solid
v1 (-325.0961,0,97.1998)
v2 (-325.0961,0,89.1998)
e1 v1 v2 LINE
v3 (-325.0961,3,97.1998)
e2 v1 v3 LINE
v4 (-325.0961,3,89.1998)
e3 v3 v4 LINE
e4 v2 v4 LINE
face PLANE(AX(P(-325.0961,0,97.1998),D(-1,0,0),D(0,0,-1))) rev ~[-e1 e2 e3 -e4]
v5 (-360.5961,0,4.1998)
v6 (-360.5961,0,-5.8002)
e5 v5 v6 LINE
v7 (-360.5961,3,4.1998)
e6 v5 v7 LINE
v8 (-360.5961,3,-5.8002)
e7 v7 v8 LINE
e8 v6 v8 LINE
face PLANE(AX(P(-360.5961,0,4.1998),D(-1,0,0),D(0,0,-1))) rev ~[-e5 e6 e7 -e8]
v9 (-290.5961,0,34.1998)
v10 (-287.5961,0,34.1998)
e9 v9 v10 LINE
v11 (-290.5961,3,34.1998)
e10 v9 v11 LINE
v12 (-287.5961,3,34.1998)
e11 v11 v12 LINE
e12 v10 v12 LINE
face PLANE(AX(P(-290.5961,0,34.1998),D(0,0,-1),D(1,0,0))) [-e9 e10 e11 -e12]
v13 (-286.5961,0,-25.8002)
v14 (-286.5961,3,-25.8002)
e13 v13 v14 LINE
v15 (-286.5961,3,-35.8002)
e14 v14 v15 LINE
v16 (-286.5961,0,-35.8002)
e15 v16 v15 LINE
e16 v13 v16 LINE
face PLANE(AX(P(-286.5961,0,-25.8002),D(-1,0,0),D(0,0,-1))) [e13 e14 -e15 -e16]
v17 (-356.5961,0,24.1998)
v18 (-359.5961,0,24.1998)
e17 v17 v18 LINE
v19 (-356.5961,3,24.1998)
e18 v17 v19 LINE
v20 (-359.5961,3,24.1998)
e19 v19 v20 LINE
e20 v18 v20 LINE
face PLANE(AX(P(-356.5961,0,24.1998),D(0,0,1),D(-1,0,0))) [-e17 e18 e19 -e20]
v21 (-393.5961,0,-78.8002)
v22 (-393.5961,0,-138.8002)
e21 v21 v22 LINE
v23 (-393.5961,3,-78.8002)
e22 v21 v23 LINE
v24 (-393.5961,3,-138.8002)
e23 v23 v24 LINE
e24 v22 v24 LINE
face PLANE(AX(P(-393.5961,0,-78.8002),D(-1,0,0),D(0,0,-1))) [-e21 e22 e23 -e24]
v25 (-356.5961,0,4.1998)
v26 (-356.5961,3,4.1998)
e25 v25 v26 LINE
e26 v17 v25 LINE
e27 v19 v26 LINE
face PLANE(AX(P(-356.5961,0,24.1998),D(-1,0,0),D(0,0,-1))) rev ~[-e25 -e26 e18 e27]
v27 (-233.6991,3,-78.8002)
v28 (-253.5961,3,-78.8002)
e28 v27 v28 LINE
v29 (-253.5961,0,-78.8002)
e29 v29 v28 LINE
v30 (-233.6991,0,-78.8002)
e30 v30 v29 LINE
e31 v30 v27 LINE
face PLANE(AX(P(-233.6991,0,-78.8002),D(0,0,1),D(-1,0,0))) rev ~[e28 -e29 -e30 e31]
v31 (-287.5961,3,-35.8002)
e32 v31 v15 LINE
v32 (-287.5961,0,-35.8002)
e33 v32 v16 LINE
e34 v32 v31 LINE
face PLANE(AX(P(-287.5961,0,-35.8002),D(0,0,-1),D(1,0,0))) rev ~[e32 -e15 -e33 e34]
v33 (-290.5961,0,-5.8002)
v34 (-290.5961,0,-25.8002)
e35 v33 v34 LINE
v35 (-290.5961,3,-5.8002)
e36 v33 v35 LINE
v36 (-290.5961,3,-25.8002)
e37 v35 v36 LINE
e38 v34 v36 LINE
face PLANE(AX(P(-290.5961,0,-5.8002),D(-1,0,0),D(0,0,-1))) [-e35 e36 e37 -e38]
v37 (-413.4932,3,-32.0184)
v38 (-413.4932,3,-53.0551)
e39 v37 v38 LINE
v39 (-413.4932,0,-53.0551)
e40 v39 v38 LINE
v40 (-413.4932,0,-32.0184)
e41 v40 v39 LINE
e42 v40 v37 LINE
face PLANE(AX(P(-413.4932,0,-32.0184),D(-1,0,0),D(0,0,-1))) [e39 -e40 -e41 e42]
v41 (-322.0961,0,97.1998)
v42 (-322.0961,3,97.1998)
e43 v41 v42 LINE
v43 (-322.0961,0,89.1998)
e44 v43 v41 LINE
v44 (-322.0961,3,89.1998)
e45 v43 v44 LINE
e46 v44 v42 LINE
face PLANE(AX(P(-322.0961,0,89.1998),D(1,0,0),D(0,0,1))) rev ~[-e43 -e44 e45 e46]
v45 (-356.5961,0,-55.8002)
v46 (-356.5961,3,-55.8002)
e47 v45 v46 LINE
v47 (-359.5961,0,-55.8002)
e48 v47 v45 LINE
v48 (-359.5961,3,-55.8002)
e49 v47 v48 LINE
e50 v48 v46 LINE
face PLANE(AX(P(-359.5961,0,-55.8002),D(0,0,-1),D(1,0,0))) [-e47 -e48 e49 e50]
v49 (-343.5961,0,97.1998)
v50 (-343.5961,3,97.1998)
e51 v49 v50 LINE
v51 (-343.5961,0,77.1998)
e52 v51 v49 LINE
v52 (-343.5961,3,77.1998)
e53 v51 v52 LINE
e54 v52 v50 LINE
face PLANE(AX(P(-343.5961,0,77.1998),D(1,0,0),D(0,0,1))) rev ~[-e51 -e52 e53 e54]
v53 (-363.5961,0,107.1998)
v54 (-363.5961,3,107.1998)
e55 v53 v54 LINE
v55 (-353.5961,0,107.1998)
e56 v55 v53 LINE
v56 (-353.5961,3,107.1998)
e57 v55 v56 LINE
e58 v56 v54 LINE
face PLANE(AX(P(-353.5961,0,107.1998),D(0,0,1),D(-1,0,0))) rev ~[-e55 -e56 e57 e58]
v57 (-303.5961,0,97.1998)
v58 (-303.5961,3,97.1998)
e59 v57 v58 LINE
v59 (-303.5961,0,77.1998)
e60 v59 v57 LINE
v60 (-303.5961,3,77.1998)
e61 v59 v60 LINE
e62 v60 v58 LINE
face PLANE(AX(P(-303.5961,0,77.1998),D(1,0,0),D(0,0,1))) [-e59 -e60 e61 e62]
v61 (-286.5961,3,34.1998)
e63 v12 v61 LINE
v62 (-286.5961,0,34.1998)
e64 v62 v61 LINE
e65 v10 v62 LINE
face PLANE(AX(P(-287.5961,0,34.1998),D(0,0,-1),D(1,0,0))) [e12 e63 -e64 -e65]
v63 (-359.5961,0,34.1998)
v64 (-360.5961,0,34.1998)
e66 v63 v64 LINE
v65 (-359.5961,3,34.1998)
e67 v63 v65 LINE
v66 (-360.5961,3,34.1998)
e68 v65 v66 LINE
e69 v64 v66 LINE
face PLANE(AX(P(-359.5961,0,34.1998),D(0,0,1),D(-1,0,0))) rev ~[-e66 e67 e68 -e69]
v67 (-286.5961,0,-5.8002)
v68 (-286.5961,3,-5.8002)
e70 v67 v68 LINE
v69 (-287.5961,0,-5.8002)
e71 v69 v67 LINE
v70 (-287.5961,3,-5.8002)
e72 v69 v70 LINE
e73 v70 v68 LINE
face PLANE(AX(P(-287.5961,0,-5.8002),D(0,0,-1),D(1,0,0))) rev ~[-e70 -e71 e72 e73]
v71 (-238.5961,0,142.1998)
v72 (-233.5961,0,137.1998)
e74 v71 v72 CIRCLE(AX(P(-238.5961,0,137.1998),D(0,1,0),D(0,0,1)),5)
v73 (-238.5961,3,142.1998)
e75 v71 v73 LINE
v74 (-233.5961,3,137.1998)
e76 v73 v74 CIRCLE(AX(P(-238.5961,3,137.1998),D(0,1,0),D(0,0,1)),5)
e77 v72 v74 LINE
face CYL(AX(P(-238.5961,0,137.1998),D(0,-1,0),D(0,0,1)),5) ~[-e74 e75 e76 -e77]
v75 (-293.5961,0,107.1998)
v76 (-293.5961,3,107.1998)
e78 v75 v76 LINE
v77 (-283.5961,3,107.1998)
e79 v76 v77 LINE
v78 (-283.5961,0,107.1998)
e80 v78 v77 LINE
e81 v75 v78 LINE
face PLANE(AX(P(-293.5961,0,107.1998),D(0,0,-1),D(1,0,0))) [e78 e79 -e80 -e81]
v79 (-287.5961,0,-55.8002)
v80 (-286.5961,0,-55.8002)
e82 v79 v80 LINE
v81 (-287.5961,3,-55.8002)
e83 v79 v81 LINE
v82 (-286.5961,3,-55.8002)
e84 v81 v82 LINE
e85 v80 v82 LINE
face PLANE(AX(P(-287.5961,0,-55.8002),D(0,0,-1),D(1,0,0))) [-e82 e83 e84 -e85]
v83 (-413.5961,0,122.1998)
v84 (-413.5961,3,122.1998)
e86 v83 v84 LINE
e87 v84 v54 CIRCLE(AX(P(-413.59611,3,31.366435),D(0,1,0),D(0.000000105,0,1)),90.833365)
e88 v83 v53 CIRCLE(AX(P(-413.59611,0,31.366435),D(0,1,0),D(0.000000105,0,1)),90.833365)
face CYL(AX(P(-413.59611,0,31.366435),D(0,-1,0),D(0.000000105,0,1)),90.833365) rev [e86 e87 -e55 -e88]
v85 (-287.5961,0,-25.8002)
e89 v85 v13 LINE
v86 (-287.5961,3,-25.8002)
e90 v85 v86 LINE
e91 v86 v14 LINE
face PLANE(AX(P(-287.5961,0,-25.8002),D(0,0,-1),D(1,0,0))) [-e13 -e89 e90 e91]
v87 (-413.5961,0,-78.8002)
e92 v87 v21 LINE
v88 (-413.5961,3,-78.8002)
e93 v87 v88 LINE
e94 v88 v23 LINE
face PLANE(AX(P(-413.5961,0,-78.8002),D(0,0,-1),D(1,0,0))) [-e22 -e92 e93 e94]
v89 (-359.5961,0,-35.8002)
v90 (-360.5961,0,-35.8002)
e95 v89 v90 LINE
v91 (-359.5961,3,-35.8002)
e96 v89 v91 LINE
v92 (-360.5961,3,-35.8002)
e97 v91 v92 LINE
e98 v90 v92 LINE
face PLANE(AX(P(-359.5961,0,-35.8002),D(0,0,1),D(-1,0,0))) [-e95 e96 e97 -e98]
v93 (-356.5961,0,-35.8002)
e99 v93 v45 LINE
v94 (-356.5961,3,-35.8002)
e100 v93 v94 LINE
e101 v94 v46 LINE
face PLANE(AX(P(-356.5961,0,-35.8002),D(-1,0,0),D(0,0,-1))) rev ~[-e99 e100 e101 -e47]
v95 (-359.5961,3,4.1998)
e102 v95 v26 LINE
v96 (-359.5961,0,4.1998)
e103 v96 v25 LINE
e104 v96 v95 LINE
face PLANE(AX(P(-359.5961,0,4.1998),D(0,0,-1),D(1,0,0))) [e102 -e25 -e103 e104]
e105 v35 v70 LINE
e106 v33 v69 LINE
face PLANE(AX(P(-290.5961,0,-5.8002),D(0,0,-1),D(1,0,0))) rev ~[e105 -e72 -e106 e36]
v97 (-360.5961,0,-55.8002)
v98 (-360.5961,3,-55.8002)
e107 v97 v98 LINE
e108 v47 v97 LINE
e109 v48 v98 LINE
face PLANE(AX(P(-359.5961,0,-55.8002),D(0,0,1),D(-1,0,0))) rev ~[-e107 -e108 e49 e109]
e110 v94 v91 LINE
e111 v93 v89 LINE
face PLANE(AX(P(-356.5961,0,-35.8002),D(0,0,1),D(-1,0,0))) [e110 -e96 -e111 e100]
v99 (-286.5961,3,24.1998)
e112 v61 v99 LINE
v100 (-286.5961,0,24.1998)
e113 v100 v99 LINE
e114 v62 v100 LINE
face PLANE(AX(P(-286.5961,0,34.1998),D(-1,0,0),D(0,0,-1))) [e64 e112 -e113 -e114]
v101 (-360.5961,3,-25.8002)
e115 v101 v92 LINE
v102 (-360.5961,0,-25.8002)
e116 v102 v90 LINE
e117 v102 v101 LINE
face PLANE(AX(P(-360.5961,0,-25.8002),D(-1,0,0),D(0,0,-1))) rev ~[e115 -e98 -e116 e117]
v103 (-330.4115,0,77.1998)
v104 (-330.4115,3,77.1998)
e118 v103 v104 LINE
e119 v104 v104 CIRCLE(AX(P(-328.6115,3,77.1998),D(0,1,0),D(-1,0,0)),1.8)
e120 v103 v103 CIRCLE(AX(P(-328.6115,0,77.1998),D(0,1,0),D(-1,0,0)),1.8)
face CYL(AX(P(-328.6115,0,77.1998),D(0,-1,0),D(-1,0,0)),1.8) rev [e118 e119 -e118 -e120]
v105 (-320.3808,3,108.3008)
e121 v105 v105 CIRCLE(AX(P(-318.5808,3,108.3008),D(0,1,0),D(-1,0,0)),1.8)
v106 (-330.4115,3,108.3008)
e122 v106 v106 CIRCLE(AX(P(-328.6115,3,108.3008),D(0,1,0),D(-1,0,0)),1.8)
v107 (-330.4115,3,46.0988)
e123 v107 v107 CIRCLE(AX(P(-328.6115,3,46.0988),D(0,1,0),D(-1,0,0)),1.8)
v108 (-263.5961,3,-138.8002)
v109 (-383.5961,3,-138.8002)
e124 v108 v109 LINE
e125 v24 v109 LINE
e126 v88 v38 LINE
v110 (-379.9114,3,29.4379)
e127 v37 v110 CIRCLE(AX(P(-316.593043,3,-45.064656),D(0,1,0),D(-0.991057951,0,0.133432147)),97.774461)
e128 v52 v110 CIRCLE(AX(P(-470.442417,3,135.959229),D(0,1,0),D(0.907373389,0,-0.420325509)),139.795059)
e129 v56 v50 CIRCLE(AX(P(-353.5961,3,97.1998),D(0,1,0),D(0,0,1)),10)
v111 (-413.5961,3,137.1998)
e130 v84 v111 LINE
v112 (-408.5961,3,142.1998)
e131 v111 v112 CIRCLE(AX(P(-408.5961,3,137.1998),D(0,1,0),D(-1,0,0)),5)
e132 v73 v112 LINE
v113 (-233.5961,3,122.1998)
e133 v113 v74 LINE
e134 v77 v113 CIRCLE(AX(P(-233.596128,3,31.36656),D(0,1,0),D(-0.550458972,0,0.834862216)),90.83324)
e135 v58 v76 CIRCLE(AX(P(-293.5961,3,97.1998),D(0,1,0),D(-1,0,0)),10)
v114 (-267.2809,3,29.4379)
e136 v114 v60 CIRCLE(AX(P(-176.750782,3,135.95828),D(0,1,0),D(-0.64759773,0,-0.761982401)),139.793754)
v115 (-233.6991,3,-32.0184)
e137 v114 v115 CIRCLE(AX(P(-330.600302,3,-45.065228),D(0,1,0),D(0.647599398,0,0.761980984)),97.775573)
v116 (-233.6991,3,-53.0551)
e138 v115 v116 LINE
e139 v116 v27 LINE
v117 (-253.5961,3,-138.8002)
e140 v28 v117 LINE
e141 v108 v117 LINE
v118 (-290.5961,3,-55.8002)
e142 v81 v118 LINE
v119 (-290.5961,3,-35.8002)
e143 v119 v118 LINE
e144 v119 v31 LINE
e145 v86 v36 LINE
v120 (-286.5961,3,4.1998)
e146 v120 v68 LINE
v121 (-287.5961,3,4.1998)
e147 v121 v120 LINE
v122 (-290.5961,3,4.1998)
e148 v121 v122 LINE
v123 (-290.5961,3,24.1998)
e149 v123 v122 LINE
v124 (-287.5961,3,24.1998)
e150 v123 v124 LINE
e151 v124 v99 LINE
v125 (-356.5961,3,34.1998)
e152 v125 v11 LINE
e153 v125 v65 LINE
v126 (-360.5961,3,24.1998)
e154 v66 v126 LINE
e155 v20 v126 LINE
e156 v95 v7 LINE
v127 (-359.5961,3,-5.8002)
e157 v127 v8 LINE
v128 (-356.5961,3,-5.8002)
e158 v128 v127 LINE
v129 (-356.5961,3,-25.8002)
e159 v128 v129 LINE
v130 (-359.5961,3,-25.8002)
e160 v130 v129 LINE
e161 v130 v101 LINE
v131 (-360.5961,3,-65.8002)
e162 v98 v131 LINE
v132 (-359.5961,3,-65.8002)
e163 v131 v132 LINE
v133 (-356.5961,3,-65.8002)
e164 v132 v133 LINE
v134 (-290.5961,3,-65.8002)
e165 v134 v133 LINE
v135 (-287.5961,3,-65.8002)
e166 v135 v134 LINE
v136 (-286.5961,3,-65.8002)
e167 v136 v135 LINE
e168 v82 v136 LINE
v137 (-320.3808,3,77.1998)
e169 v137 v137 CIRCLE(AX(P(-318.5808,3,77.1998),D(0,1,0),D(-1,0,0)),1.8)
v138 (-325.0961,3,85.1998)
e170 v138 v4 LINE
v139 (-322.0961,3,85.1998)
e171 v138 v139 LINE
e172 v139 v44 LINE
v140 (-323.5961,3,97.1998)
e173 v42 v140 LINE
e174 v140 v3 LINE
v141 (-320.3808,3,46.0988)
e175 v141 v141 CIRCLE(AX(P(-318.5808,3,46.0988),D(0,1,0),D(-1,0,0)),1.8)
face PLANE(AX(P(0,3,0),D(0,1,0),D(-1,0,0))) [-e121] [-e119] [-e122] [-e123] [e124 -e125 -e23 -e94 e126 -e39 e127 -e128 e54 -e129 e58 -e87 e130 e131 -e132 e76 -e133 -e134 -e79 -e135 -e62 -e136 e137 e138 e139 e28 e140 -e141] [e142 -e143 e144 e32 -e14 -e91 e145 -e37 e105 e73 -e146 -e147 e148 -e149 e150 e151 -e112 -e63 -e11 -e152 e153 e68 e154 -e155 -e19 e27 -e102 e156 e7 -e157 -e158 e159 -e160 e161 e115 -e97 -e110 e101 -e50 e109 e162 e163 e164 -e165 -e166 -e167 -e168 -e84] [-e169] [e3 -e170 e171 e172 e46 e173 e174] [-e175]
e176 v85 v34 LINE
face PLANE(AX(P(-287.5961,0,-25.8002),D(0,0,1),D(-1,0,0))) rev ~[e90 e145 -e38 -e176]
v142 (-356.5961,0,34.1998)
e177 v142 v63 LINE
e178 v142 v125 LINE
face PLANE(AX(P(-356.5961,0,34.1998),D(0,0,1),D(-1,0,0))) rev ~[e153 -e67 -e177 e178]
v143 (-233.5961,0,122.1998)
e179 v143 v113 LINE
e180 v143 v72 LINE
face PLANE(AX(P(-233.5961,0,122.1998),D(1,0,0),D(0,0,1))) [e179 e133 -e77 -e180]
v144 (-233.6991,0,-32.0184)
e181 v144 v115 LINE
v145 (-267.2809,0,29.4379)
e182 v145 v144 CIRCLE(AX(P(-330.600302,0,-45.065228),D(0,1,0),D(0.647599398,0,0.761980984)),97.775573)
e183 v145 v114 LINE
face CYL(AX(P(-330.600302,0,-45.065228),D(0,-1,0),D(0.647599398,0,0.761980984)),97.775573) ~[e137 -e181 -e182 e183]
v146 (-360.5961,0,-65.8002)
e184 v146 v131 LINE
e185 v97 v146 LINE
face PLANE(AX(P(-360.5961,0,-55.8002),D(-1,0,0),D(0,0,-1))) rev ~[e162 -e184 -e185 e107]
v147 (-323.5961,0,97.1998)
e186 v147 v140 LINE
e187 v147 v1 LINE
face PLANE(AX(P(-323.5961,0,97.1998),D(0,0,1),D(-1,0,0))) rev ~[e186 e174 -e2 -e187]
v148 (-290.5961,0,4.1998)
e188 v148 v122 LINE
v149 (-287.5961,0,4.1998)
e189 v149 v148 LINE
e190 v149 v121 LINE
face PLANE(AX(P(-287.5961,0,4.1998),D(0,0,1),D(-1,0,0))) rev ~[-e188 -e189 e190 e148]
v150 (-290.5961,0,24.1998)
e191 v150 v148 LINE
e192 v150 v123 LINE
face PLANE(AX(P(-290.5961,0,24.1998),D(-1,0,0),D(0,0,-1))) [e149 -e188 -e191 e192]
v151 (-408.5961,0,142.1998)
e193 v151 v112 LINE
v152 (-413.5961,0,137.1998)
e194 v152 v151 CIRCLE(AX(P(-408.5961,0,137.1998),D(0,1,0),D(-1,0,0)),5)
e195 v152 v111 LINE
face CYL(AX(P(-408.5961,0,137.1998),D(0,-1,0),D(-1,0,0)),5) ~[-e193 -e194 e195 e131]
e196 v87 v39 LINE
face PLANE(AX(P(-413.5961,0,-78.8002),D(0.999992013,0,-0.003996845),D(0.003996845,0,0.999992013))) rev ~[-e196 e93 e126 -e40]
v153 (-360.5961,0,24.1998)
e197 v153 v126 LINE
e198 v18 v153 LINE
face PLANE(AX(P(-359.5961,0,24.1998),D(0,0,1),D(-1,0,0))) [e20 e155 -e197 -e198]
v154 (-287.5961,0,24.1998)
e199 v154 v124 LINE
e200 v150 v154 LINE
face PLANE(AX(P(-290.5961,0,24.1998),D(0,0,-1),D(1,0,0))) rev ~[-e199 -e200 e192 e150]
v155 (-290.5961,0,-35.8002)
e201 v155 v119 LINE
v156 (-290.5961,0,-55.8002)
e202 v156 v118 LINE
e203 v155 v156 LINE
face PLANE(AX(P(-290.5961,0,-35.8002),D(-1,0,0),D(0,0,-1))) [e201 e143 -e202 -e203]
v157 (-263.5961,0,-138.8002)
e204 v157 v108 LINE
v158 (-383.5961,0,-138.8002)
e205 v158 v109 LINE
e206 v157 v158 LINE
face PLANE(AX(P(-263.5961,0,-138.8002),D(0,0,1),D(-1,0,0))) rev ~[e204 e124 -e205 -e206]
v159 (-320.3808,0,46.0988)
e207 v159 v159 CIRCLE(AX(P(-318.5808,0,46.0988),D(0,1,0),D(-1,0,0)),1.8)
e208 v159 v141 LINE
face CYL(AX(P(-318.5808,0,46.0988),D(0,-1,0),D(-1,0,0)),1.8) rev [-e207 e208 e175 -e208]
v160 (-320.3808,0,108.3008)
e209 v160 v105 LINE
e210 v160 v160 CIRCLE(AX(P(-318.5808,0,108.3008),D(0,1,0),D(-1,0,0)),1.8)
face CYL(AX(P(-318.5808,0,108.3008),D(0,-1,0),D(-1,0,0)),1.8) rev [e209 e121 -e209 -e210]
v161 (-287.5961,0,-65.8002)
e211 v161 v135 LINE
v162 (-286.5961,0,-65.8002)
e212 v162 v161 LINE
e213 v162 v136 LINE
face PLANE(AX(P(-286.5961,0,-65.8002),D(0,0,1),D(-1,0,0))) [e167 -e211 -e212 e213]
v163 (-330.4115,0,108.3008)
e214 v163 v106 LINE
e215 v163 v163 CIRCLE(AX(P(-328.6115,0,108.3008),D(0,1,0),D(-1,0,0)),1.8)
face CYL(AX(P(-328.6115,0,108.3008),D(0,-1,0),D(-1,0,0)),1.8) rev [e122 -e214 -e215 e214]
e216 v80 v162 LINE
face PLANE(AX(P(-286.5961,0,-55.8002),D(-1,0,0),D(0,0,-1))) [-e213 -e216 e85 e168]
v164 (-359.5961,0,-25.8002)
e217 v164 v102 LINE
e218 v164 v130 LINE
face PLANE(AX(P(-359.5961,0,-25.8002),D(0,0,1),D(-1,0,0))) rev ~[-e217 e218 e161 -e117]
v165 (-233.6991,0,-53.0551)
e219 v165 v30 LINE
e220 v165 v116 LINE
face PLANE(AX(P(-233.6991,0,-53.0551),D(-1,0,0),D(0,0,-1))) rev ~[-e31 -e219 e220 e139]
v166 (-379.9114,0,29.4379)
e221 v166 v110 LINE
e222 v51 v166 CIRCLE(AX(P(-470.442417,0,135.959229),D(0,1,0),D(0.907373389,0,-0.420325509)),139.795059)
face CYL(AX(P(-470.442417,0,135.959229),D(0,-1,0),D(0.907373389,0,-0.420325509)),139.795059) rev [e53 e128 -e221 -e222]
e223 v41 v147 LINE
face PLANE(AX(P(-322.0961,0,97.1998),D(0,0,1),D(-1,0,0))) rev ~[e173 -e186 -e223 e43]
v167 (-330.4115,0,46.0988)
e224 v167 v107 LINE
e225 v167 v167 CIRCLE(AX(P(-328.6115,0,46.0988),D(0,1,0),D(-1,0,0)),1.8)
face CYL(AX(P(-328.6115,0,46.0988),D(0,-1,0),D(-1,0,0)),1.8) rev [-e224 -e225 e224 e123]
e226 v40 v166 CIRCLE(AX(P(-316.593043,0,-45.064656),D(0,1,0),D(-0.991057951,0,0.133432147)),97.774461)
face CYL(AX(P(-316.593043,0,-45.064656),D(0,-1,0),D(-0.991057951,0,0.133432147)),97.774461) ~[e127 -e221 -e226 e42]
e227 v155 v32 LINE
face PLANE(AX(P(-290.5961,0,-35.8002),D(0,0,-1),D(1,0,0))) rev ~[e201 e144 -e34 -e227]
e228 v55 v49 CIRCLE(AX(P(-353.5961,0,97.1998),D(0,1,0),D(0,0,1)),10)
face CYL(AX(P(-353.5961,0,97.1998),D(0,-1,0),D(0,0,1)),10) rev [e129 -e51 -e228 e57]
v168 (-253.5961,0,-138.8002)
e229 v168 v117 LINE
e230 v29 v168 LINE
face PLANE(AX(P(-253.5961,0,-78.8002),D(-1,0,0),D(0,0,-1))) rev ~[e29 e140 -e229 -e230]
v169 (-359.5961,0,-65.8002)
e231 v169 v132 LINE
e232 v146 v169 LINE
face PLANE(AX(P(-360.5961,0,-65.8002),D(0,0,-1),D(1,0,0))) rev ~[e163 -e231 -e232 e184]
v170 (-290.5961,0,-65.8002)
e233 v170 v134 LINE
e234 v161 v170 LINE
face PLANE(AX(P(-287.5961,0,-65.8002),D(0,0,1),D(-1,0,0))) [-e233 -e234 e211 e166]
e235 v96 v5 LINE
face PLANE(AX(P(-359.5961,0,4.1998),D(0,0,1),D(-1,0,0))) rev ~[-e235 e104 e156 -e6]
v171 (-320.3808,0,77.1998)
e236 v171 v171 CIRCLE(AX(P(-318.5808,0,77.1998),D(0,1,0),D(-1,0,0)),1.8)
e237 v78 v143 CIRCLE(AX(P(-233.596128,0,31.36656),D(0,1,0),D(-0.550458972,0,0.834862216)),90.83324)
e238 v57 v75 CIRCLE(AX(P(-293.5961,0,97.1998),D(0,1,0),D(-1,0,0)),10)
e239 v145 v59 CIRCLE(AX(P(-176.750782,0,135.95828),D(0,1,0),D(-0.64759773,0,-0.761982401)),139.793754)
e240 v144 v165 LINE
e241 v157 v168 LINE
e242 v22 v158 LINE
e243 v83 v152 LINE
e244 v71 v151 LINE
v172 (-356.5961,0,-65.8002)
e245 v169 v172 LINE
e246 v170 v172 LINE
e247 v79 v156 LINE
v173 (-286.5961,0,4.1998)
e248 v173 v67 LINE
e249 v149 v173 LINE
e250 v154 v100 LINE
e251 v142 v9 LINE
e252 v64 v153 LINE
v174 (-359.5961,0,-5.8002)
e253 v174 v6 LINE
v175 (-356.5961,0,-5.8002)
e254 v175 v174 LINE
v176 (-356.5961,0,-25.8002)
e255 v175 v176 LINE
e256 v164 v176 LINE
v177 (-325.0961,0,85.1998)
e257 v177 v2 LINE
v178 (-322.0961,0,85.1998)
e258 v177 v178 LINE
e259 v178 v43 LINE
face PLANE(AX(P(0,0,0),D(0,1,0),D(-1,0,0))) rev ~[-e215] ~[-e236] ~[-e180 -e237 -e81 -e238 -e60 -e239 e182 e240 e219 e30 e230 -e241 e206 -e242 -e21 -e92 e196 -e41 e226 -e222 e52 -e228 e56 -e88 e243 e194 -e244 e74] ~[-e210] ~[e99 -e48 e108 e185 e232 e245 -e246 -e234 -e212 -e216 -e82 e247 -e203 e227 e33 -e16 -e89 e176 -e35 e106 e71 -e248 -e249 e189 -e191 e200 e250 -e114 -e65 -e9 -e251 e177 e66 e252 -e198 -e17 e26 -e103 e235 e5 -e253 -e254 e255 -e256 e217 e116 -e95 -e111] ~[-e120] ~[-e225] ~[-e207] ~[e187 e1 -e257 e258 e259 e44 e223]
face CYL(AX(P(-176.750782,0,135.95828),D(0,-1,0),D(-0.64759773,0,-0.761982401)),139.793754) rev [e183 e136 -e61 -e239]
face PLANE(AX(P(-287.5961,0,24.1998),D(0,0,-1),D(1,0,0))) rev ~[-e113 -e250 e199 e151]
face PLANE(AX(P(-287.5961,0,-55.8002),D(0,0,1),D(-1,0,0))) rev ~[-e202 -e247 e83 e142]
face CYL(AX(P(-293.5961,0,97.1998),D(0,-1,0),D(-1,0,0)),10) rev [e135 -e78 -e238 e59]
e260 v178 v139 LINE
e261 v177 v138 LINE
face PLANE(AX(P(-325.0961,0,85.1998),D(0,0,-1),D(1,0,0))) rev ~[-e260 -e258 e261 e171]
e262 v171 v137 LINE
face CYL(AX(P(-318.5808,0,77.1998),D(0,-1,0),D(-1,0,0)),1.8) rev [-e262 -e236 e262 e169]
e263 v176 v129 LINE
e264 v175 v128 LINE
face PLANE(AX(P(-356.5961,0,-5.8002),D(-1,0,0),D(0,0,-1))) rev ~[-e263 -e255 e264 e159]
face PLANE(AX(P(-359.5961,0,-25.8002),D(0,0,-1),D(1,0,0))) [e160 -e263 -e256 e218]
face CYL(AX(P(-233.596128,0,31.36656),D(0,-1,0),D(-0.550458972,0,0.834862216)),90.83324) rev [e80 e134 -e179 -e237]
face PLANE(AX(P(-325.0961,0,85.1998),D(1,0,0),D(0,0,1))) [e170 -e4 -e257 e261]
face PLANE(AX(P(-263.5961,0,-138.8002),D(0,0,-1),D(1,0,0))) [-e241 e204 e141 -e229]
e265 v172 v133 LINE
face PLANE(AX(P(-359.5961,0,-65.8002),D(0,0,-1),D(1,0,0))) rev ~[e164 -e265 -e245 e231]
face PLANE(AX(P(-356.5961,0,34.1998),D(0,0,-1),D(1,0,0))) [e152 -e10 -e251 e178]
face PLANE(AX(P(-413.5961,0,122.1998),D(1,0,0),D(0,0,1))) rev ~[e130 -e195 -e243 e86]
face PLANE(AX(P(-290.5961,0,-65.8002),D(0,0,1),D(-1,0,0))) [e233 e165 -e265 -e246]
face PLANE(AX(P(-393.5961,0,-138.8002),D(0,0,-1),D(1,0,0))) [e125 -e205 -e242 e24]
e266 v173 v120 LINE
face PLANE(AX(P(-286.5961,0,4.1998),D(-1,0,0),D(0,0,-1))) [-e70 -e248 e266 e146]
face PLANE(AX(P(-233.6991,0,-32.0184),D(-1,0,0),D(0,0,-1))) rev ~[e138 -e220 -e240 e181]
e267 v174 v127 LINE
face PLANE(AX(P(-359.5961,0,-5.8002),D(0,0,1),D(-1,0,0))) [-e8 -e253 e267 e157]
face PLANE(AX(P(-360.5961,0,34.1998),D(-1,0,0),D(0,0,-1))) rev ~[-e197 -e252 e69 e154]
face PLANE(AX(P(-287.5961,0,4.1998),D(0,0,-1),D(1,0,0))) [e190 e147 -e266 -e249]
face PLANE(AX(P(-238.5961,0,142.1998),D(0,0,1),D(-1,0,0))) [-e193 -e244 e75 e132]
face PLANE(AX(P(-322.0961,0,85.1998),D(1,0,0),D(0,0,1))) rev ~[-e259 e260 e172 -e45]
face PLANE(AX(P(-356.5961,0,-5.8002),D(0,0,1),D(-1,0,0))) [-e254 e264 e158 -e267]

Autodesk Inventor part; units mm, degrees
ref_plane "YZ Plane" through (0, 0, 0) normal (1, 0, 0) x (0, 1, 0)
ref_plane "XZ Plane" through (0, 0, 0) normal (0, 1, 0) x (-1, 0, 0)
ref_plane "XY Plane" through (0, 0, 0) normal (0, 0, 1) x (1, 0, 0)
sketch "草圖1" plane through (0, 0, 0) normal (0, 1, 0) x (-1, 0, 0)
  line L0 (413.5961, 122.1998) -> (413.5961, 137.1998)
  arc A0 (413.5961, 137.1998) -> (408.5961, 142.1998) centre (408.5961, 137.1998) ccw
  line L1 (233.5961, 122.1998) -> (233.5961, 137.1998)
  line L2 (238.5961, 142.1998) -> (408.5961, 142.1998)
  line L3 (303.5961, 77.1998) -> (303.5961, 97.1998)
  arc A1 (303.5961, 97.1998) -> (293.5961, 107.1998) centre (293.5961, 97.1998) ccw
  line L4 (293.5961, 107.1998) -> (283.5961, 107.1998)
  line L5 (343.5961, 77.1998) -> (343.5961, 97.1998)
  arc A2 (353.5961, 107.1998) -> (343.5961, 97.1998) centre (353.5961, 97.1998) ccw
  line L6 (353.5961, 107.1998) -> (363.5961, 107.1998)
  line L7 (233.5961, 137.1998) -> (233.5961, 122.1998)
  arc A3 (238.5961, 142.1998) -> (233.5961, 137.1998) centre (238.5961, 137.1998) ccw
  arc A4 (283.5961, 107.1998) -> (233.5961, 122.1998) centre (233.5961, 31.3665) ccw
  arc A5 (413.5961, 122.1998) -> (363.5961, 107.1998) centre (413.5961, 31.3665) ccw
  line L8 (356.5961, 34.1998) -> (290.5961, 34.1998)
  line L9 (290.5961, 24.1998) -> (290.5961, 4.1998)
  line L10 (290.5961, -5.8002) -> (290.5961, -25.8002)
  line L11 (290.5961, -35.8002) -> (290.5961, -55.8002)
  line L12 (290.5961, -65.8002) -> (356.5961, -65.8002)
  line L13 (263.5961, -138.8002) -> (383.5961, -138.8002)
  line L14 (233.6991, -53.0551) -> (233.6991, -78.8002)
  line L15 (413.5961, -78.8002) -> (413.4932, -53.0551)
  arc A6 (267.2809, 29.4379) -> (303.5961, 77.1998) centre (176.7496, 135.9594) ccw
  arc A7 (267.2809, 29.4379) -> (233.6991, -32.0184) centre (330.5999, -45.0649) ccw
  arc A8 (343.5961, 77.1998) -> (379.9114, 29.4379) centre (470.4427, 135.9594) ccw
  arc A9 (413.4932, -32.0184) -> (379.9114, 29.4379) centre (316.5923, -45.0649) ccw
  line L16 (413.4932, -32.0184) -> (413.4932, -53.0551)
  line L17 (233.6991, -32.0184) -> (233.6991, -53.0551)
  line L18 (290.5961, -55.8002) -> (290.5961, -35.8002)
  line L19 (290.5961, -25.8002) -> (290.5961, -5.8002)
  line L20 (290.5961, 4.1998) -> (290.5961, 24.1998)
  line L21 (290.5961, 34.1998) -> (287.5961, 34.1998)
  line L22 (287.5961, -65.8002) -> (290.5961, -65.8002)
  line L23 (287.5961, 4.1998) -> (290.5961, 4.1998)
  line L24 (290.5961, 4.1998) -> (290.5961, 24.1998)
  line L25 (290.5961, 24.1998) -> (287.5961, 24.1998)
  line L26 (290.5961, -5.8002) -> (287.5961, -5.8002)
  line L27 (287.5961, -25.8002) -> (290.5961, -25.8002)
  line L28 (290.5961, -25.8002) -> (290.5961, -5.8002)
  line L29 (290.5961, -35.8002) -> (287.5961, -35.8002)
  line L30 (287.5961, -55.8002) -> (290.5961, -55.8002)
  line L31 (290.5961, -55.8002) -> (290.5961, -35.8002)
  line L32 (287.5961, 34.1998) -> (286.5961, 34.1998)
  line L33 (286.5961, 34.1998) -> (286.5961, 24.1998)
  line L34 (286.5961, 4.1998) -> (286.5961, -5.8002)
  line L35 (286.5961, -25.8002) -> (286.5961, -35.8002)
  line L36 (286.5961, -55.8002) -> (286.5961, -65.8002)
  line L37 (286.5961, -65.8002) -> (287.5961, -65.8002)
  line L38 (287.5961, 24.1998) -> (286.5961, 24.1998)
  line L39 (287.5961, 4.1998) -> (286.5961, 4.1998)
  line L40 (287.5961, -5.8002) -> (286.5961, -5.8002)
  line L41 (287.5961, -25.8002) -> (286.5961, -25.8002)
  line L42 (287.5961, -35.8002) -> (286.5961, -35.8002)
  line L43 (287.5961, -55.8002) -> (286.5961, -55.8002)
  line L44 (356.5961, 24.1998) -> (356.5961, 4.1998)
  line L45 (356.5961, -5.8002) -> (356.5961, -25.8002)
  line L46 (356.5961, -35.8002) -> (356.5961, -55.8002)
  line L47 (356.5961, -55.8002) -> (356.5961, -35.8002)
  line L48 (356.5961, -25.8002) -> (356.5961, -5.8002)
  line L49 (356.5961, 4.1998) -> (356.5961, 24.1998)
  line L50 (356.5961, 34.1998) -> (359.5961, 34.1998)
  line L51 (359.5961, -65.8002) -> (356.5961, -65.8002)
  line L52 (359.5961, 4.1998) -> (356.5961, 4.1998)
  line L53 (356.5961, 4.1998) -> (356.5961, 24.1998)
  line L54 (356.5961, 24.1998) -> (359.5961, 24.1998)
  line L55 (356.5961, -5.8002) -> (359.5961, -5.8002)
  line L56 (359.5961, -25.8002) -> (356.5961, -25.8002)
  line L57 (356.5961, -25.8002) -> (356.5961, -5.8002)
  line L58 (356.5961, -35.8002) -> (359.5961, -35.8002)
  line L59 (359.5961, -55.8002) -> (356.5961, -55.8002)
  line L60 (356.5961, -55.8002) -> (356.5961, -35.8002)
  line L61 (359.5961, 34.1998) -> (360.5961, 34.1998)
  line L62 (360.5961, 34.1998) -> (360.5961, 24.1998)
  line L63 (360.5961, 4.1998) -> (360.5961, -5.8002)
  line L64 (360.5961, -25.8002) -> (360.5961, -35.8002)
  line L65 (360.5961, -55.8002) -> (360.5961, -65.8002)
  line L66 (360.5961, -65.8002) -> (359.5961, -65.8002)
  line L67 (359.5961, 24.1998) -> (360.5961, 24.1998)
  line L68 (359.5961, 4.1998) -> (360.5961, 4.1998)
  line L69 (359.5961, -5.8002) -> (360.5961, -5.8002)
  line L70 (359.5961, -25.8002) -> (360.5961, -25.8002)
  line L71 (359.5961, -35.8002) -> (360.5961, -35.8002)
  line L72 (359.5961, -55.8002) -> (360.5961, -55.8002)
  line L73 (323.5961, 97.1998) -> (325.0961, 97.1998)
  line L74 (325.0961, 97.1998) -> (325.0961, 89.1998)
  line L75 (325.0961, 85.1998) -> (322.0961, 85.1998)
  line L76 (322.0961, 89.1998) -> (322.0961, 97.1998)
  line L77 (322.0961, 97.1998) -> (323.5961, 97.1998)
  line L78 (322.0961, 85.1998) -> (322.0961, 89.1998)
  line L79 (325.0961, 85.1998) -> (325.0961, 89.1998)
  line L80 (323.5961, 77.1998) -> (408.5961, 77.1998) construction
  line L81 (323.5961, 77.1998) -> (238.5961, 77.1998) construction
  line L82 (408.5961, 107.1998) -> (393.5961, 107.1998) construction
  line L83 (393.5961, 107.1998) -> (393.5961, 47.1998) construction
  line L84 (393.5961, 47.1998) -> (423.5961, 47.1998) construction
  line L85 (423.5961, 47.1998) -> (423.5961, 107.1998) construction
  line L86 (423.5961, 107.1998) -> (408.5961, 107.1998) construction
  line L87 (238.5961, 107.1998) -> (253.5961, 107.1998) construction
  line L88 (253.5961, 107.1998) -> (253.5961, 47.1998) construction
  line L89 (253.5961, 47.1998) -> (223.5961, 47.1998) construction
  line L90 (223.5961, 47.1998) -> (223.5961, 107.1998) construction
  line L91 (223.5961, 107.1998) -> (238.5961, 107.1998) construction
  line L92 (253.5961, 77.1998) -> (257.5961, 77.1998) construction
  line L93 (257.5961, 77.1998) -> (257.5961, 82.1998) construction
  line L94 (393.5961, 77.1998) -> (389.5961, 77.1998) construction
  line L95 (389.5961, 77.1998) -> (389.5961, 82.1998) construction
  line L96 (257.5961, 77.1998) -> (261.5961, 77.1998) construction
  line L97 (389.5961, 77.1998) -> (385.5961, 77.1998)
  line L98 (261.5961, 77.1998) -> (271.5961, 77.1998)
  line L99 (271.5961, 77.1998) -> (318.5808, 60.0988) construction
  line L100 (271.5961, 77.1998) -> (318.5808, 94.3008) construction
  line L101 (385.5961, 77.1998) -> (375.5961, 77.1998)
  line L102 (375.5961, 77.1998) -> (328.6115, 94.3008) construction
  line L103 (375.5961, 77.1998) -> (328.6115, 60.0988) construction
  line L104 (261.5961, 77.1998) -> (274.2452, 39.2525) construction
  line L105 (274.2452, 39.2525) -> (372.947, 39.2525) construction
  line L106 (372.947, 39.2525) -> (385.5961, 77.1998) construction
  line L107 (323.5961, -108.8002) -> (408.5961, -108.8002) construction
  line L108 (323.5961, -108.8002) -> (238.5961, -108.8002) construction
  line L109 (423.5961, -108.8002) -> (423.5961, -78.8002) construction
  line L110 (423.5961, -78.8002) -> (393.5961, -78.8002)
  line L111 (393.5961, -78.8002) -> (393.5961, -138.8002)
  line L112 (393.5961, -138.8002) -> (423.5961, -138.8002) construction
  line L113 (423.5961, -138.8002) -> (423.5961, -108.8002) construction
  line L114 (223.5961, -108.8002) -> (223.5961, -78.8002) construction
  line L115 (223.5961, -78.8002) -> (253.5961, -78.8002)
  line L116 (253.5961, -78.8002) -> (253.5961, -138.8002)
  line L117 (253.5961, -138.8002) -> (223.5961, -138.8002) construction
  line L118 (223.5961, -138.8002) -> (223.5961, -108.8002) construction
  line L119 (393.5961, -138.8002) -> (383.5961, -138.8002)
  line L120 (263.5961, -138.8002) -> (253.5961, -138.8002)
  line L121 (318.5808, 94.3008) -> (318.5808, 108.3008) construction
  line L122 (328.6115, 94.3008) -> (328.6115, 108.3008) construction
  line L123 (328.6115, 60.0988) -> (328.6115, 46.0988) construction
  line L124 (318.5808, 60.0988) -> (318.5808, 46.0988) construction
  circle A10 centre (328.6115, 108.3008) radius 1.8
  circle A11 centre (318.5808, 108.3008) radius 1.8
  circle A12 centre (328.6115, 46.0988) radius 1.8
  circle A13 centre (318.5808, 46.0988) radius 1.8
  circle A14 centre (318.5808, 77.1998) radius 1.8
  circle A15 centre (328.6115, 77.1998) radius 1.8
  point P0 (0, 0)
  dimension "d0" = 14
  dimension "d1" = 14
  dimension "d2" = 14
  dimension "d3" = 3.6
  dimension "d4" = 3.6
  dimension "d5" = 3.6
  dimension "d6" = 3.6
  dimension "d7" = 3.6
  dimension "d8" = 3.6
extrude "擠出1" add sketch "草圖1" along normal blind 3
ref_plane "Work Plane1" through (-323.5961, 0, 97.1998) normal (1, 0, 0) x (0, 0, -1)
properties part number "底盤新"
